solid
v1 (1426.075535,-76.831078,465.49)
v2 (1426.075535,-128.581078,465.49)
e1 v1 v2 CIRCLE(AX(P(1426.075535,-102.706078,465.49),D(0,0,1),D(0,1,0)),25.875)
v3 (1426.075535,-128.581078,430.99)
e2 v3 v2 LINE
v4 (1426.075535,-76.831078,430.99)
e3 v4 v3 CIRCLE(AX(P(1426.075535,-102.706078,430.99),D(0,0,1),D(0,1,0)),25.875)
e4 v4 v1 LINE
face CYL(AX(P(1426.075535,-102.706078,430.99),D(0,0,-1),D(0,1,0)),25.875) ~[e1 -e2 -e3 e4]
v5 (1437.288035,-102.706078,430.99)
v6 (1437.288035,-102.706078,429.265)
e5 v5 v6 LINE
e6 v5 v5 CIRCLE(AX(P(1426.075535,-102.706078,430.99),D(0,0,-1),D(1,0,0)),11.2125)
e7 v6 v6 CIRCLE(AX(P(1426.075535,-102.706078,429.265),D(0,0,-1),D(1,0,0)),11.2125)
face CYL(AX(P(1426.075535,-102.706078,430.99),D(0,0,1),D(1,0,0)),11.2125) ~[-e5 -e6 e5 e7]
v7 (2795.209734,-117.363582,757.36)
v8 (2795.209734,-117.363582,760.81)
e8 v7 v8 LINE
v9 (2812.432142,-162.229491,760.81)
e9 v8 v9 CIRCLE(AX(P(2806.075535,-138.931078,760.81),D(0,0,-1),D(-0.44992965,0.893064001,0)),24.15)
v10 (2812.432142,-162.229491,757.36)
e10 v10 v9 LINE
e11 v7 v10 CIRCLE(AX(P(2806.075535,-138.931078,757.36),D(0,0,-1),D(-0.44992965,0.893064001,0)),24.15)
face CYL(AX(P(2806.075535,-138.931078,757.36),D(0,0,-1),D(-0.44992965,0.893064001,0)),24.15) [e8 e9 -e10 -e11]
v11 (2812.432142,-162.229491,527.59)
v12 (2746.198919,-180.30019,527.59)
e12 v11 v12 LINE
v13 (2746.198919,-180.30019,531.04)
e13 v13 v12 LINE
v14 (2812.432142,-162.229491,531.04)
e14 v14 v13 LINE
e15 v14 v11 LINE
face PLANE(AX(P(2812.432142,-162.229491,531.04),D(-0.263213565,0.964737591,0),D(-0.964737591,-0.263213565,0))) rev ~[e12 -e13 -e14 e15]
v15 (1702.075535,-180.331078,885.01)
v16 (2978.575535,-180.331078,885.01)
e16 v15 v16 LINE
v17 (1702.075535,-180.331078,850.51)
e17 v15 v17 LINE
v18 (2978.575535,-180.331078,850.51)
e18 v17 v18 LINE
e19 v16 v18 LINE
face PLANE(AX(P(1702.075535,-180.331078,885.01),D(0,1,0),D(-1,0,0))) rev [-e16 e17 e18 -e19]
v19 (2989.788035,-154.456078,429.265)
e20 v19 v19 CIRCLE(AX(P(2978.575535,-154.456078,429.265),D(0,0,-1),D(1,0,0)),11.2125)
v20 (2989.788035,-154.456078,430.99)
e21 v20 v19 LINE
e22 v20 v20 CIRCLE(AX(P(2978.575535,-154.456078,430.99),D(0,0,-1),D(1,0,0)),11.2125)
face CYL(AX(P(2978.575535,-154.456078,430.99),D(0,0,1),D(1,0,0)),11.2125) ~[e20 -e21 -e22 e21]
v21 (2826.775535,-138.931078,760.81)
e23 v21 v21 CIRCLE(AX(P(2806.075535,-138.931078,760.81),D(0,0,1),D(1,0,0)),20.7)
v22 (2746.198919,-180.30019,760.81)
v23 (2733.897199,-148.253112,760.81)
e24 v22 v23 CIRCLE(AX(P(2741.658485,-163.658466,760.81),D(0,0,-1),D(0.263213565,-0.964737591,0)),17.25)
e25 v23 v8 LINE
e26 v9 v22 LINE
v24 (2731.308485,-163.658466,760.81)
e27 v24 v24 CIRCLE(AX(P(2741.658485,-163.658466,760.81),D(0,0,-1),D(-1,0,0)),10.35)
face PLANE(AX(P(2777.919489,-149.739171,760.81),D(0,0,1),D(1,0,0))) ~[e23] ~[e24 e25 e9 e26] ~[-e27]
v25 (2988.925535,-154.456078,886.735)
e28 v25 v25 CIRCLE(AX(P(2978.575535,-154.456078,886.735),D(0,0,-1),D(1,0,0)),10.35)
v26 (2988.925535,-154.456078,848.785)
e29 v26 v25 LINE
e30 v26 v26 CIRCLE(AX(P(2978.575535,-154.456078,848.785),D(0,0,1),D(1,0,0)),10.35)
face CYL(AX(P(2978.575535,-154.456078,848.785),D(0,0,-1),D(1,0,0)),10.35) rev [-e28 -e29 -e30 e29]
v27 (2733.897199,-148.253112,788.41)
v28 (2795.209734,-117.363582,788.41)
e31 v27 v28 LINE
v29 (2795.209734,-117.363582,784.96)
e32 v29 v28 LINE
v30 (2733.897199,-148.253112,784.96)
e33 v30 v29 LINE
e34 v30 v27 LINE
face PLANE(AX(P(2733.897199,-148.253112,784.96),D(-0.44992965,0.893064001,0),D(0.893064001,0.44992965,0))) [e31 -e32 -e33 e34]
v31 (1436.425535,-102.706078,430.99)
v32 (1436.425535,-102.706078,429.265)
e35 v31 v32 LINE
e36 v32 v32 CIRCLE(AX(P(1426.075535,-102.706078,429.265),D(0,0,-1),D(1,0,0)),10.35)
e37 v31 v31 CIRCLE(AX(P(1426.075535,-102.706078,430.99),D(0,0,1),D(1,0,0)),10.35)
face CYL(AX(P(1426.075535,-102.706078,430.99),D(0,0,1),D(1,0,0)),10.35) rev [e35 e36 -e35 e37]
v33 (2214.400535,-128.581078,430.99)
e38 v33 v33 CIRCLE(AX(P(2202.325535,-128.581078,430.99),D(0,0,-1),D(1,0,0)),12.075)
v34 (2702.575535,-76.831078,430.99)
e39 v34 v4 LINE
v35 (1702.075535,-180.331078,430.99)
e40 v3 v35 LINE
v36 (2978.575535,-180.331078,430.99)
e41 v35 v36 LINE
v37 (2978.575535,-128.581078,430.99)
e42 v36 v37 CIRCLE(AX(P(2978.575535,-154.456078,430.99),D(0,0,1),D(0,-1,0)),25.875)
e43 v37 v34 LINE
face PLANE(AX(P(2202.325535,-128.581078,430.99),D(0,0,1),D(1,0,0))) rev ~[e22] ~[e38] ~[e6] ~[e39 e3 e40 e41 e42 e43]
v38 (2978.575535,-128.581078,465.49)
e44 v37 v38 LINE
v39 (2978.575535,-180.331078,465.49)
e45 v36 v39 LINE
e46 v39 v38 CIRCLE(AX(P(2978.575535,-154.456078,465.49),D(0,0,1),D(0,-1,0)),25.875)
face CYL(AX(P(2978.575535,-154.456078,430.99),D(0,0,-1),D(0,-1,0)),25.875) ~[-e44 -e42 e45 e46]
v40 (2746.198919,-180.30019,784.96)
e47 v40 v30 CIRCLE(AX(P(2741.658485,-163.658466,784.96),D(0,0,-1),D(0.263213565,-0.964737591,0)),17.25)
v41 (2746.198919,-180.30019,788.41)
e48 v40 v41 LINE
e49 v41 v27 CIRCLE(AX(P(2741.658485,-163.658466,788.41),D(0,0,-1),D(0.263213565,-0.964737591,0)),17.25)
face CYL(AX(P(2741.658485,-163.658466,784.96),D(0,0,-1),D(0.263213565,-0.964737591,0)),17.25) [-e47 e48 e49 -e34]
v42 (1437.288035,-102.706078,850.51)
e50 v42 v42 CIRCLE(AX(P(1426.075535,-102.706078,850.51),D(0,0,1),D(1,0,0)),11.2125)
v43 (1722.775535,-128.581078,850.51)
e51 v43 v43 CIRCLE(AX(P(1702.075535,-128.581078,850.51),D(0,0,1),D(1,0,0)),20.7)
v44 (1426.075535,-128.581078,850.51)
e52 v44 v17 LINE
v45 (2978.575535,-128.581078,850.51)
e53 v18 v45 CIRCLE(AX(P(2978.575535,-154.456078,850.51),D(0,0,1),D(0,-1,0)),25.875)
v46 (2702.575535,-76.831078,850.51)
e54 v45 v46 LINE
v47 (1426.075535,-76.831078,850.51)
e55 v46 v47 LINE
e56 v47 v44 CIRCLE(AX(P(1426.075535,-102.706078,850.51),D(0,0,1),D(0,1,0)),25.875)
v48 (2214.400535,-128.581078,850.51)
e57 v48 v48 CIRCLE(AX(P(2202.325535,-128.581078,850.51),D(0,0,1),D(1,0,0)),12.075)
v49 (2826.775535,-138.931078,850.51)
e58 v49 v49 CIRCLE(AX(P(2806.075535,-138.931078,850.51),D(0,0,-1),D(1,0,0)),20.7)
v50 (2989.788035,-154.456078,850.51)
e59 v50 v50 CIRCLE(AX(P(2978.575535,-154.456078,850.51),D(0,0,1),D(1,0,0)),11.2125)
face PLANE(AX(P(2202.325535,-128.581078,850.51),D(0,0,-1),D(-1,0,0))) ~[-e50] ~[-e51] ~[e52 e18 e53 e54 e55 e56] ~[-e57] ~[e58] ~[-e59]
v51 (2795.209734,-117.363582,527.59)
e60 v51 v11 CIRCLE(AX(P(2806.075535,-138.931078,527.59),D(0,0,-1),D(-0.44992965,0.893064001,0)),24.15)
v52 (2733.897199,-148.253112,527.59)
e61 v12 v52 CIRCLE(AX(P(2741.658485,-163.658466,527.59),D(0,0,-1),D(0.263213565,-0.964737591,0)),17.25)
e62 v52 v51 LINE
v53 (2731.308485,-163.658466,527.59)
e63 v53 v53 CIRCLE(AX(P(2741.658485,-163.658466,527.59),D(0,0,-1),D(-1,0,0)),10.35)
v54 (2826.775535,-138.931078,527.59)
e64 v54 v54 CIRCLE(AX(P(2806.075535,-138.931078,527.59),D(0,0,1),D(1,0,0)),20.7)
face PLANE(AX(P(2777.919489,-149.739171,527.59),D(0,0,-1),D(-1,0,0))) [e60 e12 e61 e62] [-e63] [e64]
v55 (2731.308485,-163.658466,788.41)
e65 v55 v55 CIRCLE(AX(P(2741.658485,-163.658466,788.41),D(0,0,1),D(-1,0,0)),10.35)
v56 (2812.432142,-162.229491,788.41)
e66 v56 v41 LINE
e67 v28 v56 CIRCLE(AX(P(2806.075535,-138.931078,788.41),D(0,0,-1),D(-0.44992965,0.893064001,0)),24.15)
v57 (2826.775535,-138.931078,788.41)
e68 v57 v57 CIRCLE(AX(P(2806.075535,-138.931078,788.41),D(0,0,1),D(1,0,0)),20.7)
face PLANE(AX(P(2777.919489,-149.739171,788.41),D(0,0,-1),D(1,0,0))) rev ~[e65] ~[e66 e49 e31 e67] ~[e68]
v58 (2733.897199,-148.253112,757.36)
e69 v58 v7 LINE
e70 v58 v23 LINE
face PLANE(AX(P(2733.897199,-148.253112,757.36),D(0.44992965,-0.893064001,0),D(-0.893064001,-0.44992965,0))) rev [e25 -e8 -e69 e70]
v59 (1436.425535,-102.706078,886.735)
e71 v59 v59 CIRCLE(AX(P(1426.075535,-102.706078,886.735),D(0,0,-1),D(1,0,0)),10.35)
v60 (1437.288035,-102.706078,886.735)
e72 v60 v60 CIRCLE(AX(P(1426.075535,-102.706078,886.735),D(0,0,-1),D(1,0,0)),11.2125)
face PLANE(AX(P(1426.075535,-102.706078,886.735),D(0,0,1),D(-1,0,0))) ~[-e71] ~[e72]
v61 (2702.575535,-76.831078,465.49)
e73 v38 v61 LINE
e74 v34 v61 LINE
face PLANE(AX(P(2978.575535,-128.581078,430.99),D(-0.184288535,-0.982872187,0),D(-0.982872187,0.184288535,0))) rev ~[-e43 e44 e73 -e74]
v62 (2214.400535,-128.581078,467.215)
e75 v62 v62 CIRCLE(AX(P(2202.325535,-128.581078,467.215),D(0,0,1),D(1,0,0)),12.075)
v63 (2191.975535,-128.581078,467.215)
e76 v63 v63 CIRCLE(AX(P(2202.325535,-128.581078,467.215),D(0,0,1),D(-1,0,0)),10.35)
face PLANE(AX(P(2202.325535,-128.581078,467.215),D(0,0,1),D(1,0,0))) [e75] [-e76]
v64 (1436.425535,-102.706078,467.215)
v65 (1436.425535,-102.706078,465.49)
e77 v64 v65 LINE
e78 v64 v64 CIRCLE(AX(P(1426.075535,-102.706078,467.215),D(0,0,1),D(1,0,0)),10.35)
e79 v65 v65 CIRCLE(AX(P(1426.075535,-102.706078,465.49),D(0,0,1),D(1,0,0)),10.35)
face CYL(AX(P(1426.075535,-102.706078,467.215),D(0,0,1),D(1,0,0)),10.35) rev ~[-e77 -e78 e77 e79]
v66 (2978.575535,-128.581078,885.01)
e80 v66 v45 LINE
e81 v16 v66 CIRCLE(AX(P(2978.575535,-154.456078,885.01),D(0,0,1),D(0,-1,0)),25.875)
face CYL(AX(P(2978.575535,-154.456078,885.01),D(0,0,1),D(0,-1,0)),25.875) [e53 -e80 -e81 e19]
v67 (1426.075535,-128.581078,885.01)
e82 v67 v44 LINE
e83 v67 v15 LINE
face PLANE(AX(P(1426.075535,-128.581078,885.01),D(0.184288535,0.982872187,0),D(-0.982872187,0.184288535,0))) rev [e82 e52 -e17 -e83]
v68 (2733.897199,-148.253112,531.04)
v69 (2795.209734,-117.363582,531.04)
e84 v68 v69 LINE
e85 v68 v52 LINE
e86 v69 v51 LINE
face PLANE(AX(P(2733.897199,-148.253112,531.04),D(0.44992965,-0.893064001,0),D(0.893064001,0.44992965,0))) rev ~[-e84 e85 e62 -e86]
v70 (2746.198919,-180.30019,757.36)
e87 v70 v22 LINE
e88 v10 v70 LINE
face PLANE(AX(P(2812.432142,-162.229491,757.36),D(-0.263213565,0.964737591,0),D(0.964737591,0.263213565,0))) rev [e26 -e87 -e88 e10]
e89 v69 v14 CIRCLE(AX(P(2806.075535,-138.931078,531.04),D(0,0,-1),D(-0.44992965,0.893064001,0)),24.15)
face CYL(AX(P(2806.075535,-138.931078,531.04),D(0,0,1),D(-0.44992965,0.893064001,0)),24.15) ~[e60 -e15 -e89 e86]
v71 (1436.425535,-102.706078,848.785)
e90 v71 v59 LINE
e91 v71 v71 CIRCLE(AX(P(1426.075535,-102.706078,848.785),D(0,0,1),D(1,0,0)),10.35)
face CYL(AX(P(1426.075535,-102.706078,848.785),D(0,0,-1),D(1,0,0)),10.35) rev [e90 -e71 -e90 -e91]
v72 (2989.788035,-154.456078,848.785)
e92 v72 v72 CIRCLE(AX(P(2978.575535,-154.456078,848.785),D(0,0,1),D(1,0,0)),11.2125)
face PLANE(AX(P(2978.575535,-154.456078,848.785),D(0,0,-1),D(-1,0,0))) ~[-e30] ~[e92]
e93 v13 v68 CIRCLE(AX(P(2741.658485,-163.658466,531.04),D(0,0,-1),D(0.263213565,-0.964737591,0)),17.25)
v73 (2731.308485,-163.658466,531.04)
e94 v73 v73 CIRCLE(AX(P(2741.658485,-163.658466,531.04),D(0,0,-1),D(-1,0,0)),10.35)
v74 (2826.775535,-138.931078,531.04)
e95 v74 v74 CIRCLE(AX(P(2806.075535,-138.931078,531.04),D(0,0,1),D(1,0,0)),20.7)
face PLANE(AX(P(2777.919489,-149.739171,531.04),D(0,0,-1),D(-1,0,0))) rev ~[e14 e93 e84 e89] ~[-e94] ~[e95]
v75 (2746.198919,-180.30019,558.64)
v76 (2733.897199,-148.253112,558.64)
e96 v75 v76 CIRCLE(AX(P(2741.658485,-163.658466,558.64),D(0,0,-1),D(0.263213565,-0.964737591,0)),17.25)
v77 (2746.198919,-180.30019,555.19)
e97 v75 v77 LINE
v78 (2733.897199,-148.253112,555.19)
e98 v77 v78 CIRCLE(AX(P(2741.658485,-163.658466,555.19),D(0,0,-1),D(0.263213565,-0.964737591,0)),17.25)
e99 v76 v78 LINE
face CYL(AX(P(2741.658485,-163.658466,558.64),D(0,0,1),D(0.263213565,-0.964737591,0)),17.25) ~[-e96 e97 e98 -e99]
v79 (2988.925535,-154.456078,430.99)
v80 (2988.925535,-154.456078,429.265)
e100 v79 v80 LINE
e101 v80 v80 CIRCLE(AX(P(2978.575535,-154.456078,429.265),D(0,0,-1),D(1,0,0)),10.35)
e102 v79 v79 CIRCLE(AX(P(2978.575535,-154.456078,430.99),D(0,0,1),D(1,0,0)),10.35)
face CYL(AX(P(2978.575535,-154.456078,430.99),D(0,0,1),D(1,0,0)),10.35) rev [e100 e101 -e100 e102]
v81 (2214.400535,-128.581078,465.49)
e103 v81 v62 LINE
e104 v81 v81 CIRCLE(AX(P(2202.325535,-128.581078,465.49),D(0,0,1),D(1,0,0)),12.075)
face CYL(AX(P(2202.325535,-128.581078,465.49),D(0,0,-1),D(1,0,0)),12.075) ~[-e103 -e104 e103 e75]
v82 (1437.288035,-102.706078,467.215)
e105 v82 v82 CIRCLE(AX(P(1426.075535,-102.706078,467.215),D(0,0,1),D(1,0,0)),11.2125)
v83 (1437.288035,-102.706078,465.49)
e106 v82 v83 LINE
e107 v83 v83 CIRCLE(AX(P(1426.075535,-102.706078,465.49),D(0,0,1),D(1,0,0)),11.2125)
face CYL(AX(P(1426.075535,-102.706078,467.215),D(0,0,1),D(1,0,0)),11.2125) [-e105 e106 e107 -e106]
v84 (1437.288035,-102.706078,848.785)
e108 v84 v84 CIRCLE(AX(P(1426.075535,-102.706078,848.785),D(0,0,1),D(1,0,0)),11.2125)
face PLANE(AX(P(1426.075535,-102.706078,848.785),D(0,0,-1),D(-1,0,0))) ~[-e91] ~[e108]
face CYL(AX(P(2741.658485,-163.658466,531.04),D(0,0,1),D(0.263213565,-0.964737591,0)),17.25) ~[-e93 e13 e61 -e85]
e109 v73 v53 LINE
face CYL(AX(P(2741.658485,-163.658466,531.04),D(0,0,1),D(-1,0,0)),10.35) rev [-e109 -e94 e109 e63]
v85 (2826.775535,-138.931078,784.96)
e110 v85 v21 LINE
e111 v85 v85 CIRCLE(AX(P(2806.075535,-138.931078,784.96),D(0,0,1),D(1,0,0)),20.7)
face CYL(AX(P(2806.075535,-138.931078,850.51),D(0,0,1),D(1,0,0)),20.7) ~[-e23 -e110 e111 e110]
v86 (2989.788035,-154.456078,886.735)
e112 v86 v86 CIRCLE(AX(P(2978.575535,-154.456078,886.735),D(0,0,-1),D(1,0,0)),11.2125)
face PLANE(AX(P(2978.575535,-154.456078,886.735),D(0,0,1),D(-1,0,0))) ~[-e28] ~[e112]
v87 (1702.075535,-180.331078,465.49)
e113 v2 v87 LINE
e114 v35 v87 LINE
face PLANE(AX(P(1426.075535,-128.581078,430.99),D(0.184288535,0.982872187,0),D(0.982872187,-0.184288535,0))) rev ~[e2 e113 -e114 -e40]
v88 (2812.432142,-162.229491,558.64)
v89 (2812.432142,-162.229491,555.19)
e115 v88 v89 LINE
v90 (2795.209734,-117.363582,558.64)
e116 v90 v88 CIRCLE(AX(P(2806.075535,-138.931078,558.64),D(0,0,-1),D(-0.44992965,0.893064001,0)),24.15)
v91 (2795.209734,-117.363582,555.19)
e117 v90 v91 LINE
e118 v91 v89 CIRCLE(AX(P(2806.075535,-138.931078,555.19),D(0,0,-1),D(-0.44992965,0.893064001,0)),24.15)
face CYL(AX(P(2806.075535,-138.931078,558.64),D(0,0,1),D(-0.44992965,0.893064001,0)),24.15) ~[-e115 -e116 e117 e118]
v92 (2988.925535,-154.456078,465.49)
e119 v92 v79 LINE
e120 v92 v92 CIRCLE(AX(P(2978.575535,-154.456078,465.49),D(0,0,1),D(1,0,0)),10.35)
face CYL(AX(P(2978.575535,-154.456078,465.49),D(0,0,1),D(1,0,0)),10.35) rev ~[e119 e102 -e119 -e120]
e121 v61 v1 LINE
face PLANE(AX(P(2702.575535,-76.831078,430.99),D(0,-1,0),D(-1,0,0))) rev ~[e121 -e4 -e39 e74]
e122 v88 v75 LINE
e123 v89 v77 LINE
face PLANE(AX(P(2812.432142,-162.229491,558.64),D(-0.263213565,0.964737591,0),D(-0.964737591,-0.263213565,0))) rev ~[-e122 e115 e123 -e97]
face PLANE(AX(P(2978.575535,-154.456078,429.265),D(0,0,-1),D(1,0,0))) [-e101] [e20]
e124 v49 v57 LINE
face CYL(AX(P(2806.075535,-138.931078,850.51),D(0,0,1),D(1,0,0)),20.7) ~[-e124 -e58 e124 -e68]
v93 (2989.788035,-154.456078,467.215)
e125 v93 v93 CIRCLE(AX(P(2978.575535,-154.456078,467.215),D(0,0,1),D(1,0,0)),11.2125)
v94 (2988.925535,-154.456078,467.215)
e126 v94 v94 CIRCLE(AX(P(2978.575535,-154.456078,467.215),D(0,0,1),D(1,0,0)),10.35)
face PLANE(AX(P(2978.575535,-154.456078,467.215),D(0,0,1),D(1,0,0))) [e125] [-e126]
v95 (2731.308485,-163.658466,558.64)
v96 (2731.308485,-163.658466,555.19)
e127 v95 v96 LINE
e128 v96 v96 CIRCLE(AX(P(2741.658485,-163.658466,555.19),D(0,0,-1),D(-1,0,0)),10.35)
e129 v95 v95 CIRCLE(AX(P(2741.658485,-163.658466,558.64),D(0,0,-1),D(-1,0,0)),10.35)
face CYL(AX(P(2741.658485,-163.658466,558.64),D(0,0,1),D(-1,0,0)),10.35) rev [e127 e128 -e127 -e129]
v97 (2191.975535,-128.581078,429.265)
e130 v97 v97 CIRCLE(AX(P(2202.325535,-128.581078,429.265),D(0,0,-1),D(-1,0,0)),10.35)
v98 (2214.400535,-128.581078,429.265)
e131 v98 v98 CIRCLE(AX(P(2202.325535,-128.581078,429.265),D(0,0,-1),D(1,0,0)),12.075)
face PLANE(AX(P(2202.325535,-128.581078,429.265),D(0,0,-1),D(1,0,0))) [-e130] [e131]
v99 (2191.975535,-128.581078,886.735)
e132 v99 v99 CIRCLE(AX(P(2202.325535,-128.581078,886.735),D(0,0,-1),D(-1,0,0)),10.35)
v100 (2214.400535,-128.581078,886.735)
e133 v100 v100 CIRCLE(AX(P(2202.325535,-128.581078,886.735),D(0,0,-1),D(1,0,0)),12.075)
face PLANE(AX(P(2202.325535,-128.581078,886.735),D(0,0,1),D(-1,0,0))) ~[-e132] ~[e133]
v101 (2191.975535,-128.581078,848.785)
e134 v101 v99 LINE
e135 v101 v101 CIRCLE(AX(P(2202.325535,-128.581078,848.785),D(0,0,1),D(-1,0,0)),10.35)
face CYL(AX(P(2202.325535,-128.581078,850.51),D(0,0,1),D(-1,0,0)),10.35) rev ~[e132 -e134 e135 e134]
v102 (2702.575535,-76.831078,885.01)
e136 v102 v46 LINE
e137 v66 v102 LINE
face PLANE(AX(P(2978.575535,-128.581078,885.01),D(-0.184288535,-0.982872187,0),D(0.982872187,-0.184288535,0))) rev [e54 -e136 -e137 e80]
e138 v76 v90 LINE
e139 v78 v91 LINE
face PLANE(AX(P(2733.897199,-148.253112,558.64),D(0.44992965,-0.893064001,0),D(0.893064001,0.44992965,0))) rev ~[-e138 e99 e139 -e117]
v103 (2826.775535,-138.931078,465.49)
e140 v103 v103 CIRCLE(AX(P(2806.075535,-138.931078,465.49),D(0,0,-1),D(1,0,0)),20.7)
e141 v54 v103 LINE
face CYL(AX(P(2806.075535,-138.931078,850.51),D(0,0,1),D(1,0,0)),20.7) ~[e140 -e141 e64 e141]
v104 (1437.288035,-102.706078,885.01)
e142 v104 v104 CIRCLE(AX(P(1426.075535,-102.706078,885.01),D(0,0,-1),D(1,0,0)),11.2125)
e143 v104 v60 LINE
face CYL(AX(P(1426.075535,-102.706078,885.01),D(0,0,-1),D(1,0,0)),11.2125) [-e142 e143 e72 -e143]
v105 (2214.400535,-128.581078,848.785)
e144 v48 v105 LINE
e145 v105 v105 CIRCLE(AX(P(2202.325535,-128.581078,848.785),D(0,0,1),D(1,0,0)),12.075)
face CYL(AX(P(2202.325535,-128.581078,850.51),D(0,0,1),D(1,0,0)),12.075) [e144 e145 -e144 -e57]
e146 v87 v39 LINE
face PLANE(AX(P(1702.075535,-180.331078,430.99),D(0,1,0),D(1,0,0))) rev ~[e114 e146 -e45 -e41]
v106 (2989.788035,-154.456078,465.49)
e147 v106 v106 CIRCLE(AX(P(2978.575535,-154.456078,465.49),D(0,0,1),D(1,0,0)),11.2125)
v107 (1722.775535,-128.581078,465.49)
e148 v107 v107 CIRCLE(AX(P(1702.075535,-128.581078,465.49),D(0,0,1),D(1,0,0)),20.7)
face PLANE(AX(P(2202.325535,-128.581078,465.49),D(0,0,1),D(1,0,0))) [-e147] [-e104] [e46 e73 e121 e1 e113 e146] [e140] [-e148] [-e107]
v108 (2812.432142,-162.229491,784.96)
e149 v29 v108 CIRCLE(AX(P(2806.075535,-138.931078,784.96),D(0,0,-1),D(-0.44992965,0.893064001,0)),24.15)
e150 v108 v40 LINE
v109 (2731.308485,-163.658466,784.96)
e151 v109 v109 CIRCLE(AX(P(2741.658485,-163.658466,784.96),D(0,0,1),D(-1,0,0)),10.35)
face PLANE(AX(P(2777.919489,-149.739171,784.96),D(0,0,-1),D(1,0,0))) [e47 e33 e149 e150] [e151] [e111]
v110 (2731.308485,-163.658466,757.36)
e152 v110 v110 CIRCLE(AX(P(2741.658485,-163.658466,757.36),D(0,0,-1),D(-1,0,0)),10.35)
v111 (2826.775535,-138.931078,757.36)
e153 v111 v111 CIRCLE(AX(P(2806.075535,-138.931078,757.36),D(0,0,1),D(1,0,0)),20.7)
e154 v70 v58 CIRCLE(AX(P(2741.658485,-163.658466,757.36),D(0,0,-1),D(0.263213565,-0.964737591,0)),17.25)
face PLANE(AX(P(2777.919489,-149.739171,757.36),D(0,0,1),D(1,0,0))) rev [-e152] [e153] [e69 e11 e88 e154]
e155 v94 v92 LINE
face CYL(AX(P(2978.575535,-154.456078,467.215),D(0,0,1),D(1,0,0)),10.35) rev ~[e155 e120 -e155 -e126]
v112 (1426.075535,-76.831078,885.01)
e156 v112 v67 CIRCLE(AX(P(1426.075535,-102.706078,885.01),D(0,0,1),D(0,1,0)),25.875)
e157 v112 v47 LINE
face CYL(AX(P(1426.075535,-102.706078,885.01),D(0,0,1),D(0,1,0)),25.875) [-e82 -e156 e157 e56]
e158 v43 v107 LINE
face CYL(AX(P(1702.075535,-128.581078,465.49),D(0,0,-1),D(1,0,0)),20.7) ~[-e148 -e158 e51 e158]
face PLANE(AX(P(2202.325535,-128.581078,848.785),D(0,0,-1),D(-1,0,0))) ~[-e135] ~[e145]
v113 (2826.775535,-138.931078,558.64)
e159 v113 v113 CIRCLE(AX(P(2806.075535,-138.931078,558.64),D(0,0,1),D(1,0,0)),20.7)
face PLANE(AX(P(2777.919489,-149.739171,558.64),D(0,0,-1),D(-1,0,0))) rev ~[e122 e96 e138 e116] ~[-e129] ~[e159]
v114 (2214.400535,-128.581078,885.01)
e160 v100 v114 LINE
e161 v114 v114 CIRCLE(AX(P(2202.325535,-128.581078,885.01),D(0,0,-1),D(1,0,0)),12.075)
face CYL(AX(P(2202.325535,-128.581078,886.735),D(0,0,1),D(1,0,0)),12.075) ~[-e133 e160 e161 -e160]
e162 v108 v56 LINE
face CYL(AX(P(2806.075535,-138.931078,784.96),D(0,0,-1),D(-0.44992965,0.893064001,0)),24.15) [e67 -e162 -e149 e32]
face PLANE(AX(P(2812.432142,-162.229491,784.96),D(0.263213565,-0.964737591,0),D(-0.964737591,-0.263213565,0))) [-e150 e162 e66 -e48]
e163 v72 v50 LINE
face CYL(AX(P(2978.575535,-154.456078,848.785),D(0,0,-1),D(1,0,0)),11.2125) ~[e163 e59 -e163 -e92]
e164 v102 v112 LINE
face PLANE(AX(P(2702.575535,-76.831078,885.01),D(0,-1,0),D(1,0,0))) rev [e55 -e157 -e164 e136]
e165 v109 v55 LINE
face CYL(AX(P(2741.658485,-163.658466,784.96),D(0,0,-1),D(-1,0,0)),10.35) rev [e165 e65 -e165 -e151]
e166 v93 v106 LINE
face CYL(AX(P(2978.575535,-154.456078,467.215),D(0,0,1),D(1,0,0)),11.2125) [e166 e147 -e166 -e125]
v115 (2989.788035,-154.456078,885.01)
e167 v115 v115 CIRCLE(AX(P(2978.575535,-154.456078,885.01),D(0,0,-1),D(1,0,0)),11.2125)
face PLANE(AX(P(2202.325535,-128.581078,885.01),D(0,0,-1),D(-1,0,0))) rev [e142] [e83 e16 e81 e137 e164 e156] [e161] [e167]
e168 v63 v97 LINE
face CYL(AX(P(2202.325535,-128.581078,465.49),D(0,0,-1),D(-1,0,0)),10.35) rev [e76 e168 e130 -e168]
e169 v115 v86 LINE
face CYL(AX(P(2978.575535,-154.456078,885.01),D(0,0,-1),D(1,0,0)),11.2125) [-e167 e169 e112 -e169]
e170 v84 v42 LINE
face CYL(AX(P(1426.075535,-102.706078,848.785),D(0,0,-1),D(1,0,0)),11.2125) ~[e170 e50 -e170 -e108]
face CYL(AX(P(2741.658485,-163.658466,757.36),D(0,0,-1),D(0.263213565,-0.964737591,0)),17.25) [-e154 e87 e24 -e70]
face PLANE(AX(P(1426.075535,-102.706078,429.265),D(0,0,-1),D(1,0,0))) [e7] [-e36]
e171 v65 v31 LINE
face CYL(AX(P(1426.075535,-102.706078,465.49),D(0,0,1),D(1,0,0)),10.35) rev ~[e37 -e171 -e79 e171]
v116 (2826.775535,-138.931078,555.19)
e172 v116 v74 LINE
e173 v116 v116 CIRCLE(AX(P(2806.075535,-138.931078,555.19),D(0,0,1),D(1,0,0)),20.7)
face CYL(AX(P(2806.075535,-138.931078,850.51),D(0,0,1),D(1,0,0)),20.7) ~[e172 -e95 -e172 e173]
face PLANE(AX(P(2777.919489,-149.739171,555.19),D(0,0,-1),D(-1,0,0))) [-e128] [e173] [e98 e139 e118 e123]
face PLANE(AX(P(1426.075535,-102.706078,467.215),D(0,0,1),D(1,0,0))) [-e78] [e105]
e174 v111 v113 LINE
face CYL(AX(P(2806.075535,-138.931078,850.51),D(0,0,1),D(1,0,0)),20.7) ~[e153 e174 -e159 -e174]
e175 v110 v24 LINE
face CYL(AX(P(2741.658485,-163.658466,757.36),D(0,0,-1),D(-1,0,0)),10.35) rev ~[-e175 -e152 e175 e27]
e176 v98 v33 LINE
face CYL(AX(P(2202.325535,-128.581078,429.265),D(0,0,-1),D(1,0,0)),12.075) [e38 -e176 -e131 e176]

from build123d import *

# Parameters (mm, degrees)
EXTRUDE_1_DEPTH          = 100
SKETCH_2_R               = 30
CUT_EXTRUDE_1_DEPTH      = 100
SKETCH_3_R               = 32.5
SKETCH_3_R_2             = 30
EXTRUDE_2_DEPTH          = 5
EXTRUDE_START            = 5
SKETCH_4_R               = 32.5
SKETCH_4_R_2             = 30
EXTRUDE_3_DEPTH          = 5
SKETCH_5_R               = 30
CUT_EXTRUDE_2_DEPTH      = 248
SKETCH_6_R               = 35
SKETCH_6_R_2             = 30
EXTRUDE_4_DEPTH          = 5
SKETCH_7_R               = 35
SKETCH_7_R_2             = 30
EXTRUDE_5_DEPTH          = 5
SKETCH_8_R               = 60
EXTRUDE_6_DEPTH          = 558
SKETCH_9_R               = 60
EXTRUDE_7_DEPTH          = 1116
SKETCH_12_R              = 30
EXTRUDE_9_DEPTH          = 10
PATTERN_LINEAR_2_COUNT   = 2
PATTERN_LINEAR_2_PITCH   = 80
MIRROR_3_COPY_1_SKETCH_R = 30
MIRROR_3_COPY_1_DEPTH    = 10
SCALE1_SCALE             = 0.345


with BuildPart() as part:
    # 草图1 → 凸台-拉伸1 (new body)
    with BuildSketch(Plane.XY):
        with BuildLine():
            Line((-60.1323511, -127.533248731), (739.8676489, -277.533248731))
            Line((739.8676489, -277.533248731), (4439.8676489, -277.533248731))
            ThreePointArc((4439.8676489, -277.533248731), (4514.8676489, -202.533248731), (4439.8676489, -127.533248731))
            Line((4439.8676489, -127.533248731), (3639.8676489, 22.466751269))
            Line((3639.8676489, 22.466751269), (-60.1323511, 22.466751269))
            ThreePointArc((-60.1323511, 22.466751269), (-135.1323511, -52.533248731), (-60.1323511, -127.533248731))
        make_face()
    extrude(amount=EXTRUDE_1_DEPTH)

    # 草图2 → 切除-拉伸1 (cut)
    with BuildSketch(Plane.XY.offset(100)):
        with Locations((-60.1323511, -52.533248731)):
            Circle(SKETCH_2_R)
        with Locations((4439.8676489, -202.533248731)):
            Circle(SKETCH_2_R)
    extrude(amount=-CUT_EXTRUDE_1_DEPTH, mode=Mode.SUBTRACT)

    # 草图3 → 凸台-拉伸2 (add)
    # profile 1 of 2: a face of its own
    with BuildSketch(Plane(origin=(0, 0, 0), x_dir=(-1, 0, 0), z_dir=(0, 0, -1))):
        with Locations(Location((-4439.8676489, -202.533248731, 0), (0, 0, 180))):
            Circle(SKETCH_3_R)
        with Locations(Location((-4439.8676489, -202.533248731, 0), (0, 0, 180))):
            Circle(SKETCH_3_R_2, mode=Mode.SUBTRACT)
    # profile 2 of 2: a face of its own
    with BuildSketch(Plane(origin=(0, 0, 0), x_dir=(-1, 0, 0), z_dir=(0, 0, -1))):
        with Locations(Location((60.1323511, -52.533248731, 0), (0, 0, 180))):
            Circle(SKETCH_3_R)
        with Locations(Location((60.1323511, -52.533248731, 0), (0, 0, 180))):
            Circle(SKETCH_3_R_2, mode=Mode.SUBTRACT)
    extrude(amount=EXTRUDE_2_DEPTH)

    # 草图4 → 凸台-拉伸3 (add)
    # profile 1 of 2: a face of its own
    with BuildSketch(Plane.XY.offset(100).offset(EXTRUDE_START)):
        with Locations((-60.1323511, -52.533248731)):
            Circle(SKETCH_4_R)
        with Locations((-60.1323511, -52.533248731)):
            Circle(SKETCH_4_R_2, mode=Mode.SUBTRACT)
    # profile 2 of 2: a face of its own
    with BuildSketch(Plane.XY.offset(100).offset(EXTRUDE_START)):
        with Locations((4439.8676489, -202.533248731)):
            Circle(SKETCH_4_R)
        with Locations((4439.8676489, -202.533248731)):
            Circle(SKETCH_4_R_2, mode=Mode.SUBTRACT)
    extrude(amount=-EXTRUDE_3_DEPTH)

    # 草图5 → 切除-拉伸2 (cut)
    with BuildSketch(Plane(origin=(0, 0, 0), x_dir=(-1, 0, 0), z_dir=(0, 0, -1))):
        with Locations((-2189.8676489, -127.533248731)):
            Circle(SKETCH_5_R)
    extrude(amount=-CUT_EXTRUDE_2_DEPTH, mode=Mode.SUBTRACT)

    # 草图6 → 凸台-拉伸4 (add)
    with BuildSketch(Plane(origin=(0, 0, 0), x_dir=(-1, 0, 0), z_dir=(0, 0, -1)).offset(EXTRUDE_START)):
        with Locations(Location((-2189.8676489, -127.533248731, 0), (0, 0, 180))):
            Circle(SKETCH_6_R)
        with Locations((-2189.8676489, -127.533248731)):
            Circle(SKETCH_6_R_2, mode=Mode.SUBTRACT)
    extrude(amount=-EXTRUDE_4_DEPTH)

    # 草图7 → 凸台-拉伸5 (add)
    with BuildSketch(Plane.XY.offset(100)):
        with Locations((2189.8676489, -127.533248731)):
            Circle(SKETCH_7_R)
        with Locations(Location((2189.8676489, -127.533248731, 0), (0, 0, 180))):
            Circle(SKETCH_7_R_2, mode=Mode.SUBTRACT)
    extrude(amount=EXTRUDE_5_DEPTH)

    # 草图8 → 凸台-拉伸6 (add)
    with BuildSketch(Plane.XY.offset(100)):
        with Locations((739.8676489, -127.533248731)):
            Circle(SKETCH_8_R)
    extrude(amount=EXTRUDE_6_DEPTH)

    # 镜向1: part across plane


with BuildPart() as part_1:
    add(part.part)
    add(part.part.mirror(Plane(origin=(739.8676489, -127.533248731, 658), x_dir=(1, 0, 0), z_dir=(0, 0, 1))))

    # 草图9 → 凸台-拉伸7 (add)
    with BuildSketch(Plane(origin=(0, 0, 1216), x_dir=(-1, 0, 0), z_dir=(0, 0, -1))):
        with Locations(Location((-3939.8676489, -157.533248731, 0), (0, 0, 180))):
            Circle(SKETCH_9_R)
    extrude(amount=EXTRUDE_7_DEPTH)

    # 草图12 → 凸台-拉伸9 (add)
    with BuildSketch(Plane(origin=(0, 0, 370), x_dir=(-1, 0, 0), z_dir=(0, 0, -1))):
        with BuildLine():
            Line((-3730.655081085, -184.553638593), (-3908.372573379, -95.018768665))
            ThreePointArc((-3908.372573379, -95.018768665), (-4005.218278755, -132.447492263), (-3958.292598451, -225.06488009))
            Line((-3958.292598451, -225.06488009), (-3766.312241851, -277.443718182))
            ThreePointArc((-3766.312241851, -277.443718182), (-3706.472542276, -247.125236117), (-3730.655081085, -184.553638593))
        make_face()
        with Locations((-3753.151563601, -229.20683864)):
            Circle(SKETCH_12_R, mode=Mode.SUBTRACT)
    extrude_9 = extrude(amount=EXTRUDE_9_DEPTH)

    # 阵列(线性)2: 凸台-拉伸9 ×2
    with Locations(*[(0, 0, -i * PATTERN_LINEAR_2_PITCH) for i in range(1, PATTERN_LINEAR_2_COUNT)]):
        add(extrude_9)

    # 镜向3: 凸台-拉伸9 across plane
    add(extrude_9.mirror(Plane(origin=(0, 0, 658), x_dir=(1, 0, 0), z_dir=(0, 0, -1))))

    # 镜向3 copy 1 sketch → 镜向3 copy 1 (add)
    with BuildSketch(Plane(origin=(0, 0, 1026), x_dir=(-1, 0, 0), z_dir=(0, 0, 1))):
        with BuildLine():
            Line((-3730.655081085, 184.553638593), (-3908.372573379, 95.018768665))
            ThreePointArc((-3908.372573379, 95.018768665), (-4005.218278755, 132.447492263), (-3958.292598451, 225.06488009))
            Line((-3958.292598451, 225.06488009), (-3766.312241851, 277.443718182))
            ThreePointArc((-3766.312241851, 277.443718182), (-3706.472542276, 247.125236117), (-3730.655081085, 184.553638593))
        make_face()
        with Locations((-3753.151563601, 229.20683864)):
            Circle(MIRROR_3_COPY_1_SKETCH_R, mode=Mode.SUBTRACT)
    extrude(amount=MIRROR_3_COPY_1_DEPTH)


with BuildPart() as part_2:
    # Scale1: scaled about (2208.887322041, -129.132987592, 658)
    add(part_1.part.scale(SCALE1_SCALE).moved(Location((1446.821195937, -84.582106873, 430.99))))


solid = part_2.part
